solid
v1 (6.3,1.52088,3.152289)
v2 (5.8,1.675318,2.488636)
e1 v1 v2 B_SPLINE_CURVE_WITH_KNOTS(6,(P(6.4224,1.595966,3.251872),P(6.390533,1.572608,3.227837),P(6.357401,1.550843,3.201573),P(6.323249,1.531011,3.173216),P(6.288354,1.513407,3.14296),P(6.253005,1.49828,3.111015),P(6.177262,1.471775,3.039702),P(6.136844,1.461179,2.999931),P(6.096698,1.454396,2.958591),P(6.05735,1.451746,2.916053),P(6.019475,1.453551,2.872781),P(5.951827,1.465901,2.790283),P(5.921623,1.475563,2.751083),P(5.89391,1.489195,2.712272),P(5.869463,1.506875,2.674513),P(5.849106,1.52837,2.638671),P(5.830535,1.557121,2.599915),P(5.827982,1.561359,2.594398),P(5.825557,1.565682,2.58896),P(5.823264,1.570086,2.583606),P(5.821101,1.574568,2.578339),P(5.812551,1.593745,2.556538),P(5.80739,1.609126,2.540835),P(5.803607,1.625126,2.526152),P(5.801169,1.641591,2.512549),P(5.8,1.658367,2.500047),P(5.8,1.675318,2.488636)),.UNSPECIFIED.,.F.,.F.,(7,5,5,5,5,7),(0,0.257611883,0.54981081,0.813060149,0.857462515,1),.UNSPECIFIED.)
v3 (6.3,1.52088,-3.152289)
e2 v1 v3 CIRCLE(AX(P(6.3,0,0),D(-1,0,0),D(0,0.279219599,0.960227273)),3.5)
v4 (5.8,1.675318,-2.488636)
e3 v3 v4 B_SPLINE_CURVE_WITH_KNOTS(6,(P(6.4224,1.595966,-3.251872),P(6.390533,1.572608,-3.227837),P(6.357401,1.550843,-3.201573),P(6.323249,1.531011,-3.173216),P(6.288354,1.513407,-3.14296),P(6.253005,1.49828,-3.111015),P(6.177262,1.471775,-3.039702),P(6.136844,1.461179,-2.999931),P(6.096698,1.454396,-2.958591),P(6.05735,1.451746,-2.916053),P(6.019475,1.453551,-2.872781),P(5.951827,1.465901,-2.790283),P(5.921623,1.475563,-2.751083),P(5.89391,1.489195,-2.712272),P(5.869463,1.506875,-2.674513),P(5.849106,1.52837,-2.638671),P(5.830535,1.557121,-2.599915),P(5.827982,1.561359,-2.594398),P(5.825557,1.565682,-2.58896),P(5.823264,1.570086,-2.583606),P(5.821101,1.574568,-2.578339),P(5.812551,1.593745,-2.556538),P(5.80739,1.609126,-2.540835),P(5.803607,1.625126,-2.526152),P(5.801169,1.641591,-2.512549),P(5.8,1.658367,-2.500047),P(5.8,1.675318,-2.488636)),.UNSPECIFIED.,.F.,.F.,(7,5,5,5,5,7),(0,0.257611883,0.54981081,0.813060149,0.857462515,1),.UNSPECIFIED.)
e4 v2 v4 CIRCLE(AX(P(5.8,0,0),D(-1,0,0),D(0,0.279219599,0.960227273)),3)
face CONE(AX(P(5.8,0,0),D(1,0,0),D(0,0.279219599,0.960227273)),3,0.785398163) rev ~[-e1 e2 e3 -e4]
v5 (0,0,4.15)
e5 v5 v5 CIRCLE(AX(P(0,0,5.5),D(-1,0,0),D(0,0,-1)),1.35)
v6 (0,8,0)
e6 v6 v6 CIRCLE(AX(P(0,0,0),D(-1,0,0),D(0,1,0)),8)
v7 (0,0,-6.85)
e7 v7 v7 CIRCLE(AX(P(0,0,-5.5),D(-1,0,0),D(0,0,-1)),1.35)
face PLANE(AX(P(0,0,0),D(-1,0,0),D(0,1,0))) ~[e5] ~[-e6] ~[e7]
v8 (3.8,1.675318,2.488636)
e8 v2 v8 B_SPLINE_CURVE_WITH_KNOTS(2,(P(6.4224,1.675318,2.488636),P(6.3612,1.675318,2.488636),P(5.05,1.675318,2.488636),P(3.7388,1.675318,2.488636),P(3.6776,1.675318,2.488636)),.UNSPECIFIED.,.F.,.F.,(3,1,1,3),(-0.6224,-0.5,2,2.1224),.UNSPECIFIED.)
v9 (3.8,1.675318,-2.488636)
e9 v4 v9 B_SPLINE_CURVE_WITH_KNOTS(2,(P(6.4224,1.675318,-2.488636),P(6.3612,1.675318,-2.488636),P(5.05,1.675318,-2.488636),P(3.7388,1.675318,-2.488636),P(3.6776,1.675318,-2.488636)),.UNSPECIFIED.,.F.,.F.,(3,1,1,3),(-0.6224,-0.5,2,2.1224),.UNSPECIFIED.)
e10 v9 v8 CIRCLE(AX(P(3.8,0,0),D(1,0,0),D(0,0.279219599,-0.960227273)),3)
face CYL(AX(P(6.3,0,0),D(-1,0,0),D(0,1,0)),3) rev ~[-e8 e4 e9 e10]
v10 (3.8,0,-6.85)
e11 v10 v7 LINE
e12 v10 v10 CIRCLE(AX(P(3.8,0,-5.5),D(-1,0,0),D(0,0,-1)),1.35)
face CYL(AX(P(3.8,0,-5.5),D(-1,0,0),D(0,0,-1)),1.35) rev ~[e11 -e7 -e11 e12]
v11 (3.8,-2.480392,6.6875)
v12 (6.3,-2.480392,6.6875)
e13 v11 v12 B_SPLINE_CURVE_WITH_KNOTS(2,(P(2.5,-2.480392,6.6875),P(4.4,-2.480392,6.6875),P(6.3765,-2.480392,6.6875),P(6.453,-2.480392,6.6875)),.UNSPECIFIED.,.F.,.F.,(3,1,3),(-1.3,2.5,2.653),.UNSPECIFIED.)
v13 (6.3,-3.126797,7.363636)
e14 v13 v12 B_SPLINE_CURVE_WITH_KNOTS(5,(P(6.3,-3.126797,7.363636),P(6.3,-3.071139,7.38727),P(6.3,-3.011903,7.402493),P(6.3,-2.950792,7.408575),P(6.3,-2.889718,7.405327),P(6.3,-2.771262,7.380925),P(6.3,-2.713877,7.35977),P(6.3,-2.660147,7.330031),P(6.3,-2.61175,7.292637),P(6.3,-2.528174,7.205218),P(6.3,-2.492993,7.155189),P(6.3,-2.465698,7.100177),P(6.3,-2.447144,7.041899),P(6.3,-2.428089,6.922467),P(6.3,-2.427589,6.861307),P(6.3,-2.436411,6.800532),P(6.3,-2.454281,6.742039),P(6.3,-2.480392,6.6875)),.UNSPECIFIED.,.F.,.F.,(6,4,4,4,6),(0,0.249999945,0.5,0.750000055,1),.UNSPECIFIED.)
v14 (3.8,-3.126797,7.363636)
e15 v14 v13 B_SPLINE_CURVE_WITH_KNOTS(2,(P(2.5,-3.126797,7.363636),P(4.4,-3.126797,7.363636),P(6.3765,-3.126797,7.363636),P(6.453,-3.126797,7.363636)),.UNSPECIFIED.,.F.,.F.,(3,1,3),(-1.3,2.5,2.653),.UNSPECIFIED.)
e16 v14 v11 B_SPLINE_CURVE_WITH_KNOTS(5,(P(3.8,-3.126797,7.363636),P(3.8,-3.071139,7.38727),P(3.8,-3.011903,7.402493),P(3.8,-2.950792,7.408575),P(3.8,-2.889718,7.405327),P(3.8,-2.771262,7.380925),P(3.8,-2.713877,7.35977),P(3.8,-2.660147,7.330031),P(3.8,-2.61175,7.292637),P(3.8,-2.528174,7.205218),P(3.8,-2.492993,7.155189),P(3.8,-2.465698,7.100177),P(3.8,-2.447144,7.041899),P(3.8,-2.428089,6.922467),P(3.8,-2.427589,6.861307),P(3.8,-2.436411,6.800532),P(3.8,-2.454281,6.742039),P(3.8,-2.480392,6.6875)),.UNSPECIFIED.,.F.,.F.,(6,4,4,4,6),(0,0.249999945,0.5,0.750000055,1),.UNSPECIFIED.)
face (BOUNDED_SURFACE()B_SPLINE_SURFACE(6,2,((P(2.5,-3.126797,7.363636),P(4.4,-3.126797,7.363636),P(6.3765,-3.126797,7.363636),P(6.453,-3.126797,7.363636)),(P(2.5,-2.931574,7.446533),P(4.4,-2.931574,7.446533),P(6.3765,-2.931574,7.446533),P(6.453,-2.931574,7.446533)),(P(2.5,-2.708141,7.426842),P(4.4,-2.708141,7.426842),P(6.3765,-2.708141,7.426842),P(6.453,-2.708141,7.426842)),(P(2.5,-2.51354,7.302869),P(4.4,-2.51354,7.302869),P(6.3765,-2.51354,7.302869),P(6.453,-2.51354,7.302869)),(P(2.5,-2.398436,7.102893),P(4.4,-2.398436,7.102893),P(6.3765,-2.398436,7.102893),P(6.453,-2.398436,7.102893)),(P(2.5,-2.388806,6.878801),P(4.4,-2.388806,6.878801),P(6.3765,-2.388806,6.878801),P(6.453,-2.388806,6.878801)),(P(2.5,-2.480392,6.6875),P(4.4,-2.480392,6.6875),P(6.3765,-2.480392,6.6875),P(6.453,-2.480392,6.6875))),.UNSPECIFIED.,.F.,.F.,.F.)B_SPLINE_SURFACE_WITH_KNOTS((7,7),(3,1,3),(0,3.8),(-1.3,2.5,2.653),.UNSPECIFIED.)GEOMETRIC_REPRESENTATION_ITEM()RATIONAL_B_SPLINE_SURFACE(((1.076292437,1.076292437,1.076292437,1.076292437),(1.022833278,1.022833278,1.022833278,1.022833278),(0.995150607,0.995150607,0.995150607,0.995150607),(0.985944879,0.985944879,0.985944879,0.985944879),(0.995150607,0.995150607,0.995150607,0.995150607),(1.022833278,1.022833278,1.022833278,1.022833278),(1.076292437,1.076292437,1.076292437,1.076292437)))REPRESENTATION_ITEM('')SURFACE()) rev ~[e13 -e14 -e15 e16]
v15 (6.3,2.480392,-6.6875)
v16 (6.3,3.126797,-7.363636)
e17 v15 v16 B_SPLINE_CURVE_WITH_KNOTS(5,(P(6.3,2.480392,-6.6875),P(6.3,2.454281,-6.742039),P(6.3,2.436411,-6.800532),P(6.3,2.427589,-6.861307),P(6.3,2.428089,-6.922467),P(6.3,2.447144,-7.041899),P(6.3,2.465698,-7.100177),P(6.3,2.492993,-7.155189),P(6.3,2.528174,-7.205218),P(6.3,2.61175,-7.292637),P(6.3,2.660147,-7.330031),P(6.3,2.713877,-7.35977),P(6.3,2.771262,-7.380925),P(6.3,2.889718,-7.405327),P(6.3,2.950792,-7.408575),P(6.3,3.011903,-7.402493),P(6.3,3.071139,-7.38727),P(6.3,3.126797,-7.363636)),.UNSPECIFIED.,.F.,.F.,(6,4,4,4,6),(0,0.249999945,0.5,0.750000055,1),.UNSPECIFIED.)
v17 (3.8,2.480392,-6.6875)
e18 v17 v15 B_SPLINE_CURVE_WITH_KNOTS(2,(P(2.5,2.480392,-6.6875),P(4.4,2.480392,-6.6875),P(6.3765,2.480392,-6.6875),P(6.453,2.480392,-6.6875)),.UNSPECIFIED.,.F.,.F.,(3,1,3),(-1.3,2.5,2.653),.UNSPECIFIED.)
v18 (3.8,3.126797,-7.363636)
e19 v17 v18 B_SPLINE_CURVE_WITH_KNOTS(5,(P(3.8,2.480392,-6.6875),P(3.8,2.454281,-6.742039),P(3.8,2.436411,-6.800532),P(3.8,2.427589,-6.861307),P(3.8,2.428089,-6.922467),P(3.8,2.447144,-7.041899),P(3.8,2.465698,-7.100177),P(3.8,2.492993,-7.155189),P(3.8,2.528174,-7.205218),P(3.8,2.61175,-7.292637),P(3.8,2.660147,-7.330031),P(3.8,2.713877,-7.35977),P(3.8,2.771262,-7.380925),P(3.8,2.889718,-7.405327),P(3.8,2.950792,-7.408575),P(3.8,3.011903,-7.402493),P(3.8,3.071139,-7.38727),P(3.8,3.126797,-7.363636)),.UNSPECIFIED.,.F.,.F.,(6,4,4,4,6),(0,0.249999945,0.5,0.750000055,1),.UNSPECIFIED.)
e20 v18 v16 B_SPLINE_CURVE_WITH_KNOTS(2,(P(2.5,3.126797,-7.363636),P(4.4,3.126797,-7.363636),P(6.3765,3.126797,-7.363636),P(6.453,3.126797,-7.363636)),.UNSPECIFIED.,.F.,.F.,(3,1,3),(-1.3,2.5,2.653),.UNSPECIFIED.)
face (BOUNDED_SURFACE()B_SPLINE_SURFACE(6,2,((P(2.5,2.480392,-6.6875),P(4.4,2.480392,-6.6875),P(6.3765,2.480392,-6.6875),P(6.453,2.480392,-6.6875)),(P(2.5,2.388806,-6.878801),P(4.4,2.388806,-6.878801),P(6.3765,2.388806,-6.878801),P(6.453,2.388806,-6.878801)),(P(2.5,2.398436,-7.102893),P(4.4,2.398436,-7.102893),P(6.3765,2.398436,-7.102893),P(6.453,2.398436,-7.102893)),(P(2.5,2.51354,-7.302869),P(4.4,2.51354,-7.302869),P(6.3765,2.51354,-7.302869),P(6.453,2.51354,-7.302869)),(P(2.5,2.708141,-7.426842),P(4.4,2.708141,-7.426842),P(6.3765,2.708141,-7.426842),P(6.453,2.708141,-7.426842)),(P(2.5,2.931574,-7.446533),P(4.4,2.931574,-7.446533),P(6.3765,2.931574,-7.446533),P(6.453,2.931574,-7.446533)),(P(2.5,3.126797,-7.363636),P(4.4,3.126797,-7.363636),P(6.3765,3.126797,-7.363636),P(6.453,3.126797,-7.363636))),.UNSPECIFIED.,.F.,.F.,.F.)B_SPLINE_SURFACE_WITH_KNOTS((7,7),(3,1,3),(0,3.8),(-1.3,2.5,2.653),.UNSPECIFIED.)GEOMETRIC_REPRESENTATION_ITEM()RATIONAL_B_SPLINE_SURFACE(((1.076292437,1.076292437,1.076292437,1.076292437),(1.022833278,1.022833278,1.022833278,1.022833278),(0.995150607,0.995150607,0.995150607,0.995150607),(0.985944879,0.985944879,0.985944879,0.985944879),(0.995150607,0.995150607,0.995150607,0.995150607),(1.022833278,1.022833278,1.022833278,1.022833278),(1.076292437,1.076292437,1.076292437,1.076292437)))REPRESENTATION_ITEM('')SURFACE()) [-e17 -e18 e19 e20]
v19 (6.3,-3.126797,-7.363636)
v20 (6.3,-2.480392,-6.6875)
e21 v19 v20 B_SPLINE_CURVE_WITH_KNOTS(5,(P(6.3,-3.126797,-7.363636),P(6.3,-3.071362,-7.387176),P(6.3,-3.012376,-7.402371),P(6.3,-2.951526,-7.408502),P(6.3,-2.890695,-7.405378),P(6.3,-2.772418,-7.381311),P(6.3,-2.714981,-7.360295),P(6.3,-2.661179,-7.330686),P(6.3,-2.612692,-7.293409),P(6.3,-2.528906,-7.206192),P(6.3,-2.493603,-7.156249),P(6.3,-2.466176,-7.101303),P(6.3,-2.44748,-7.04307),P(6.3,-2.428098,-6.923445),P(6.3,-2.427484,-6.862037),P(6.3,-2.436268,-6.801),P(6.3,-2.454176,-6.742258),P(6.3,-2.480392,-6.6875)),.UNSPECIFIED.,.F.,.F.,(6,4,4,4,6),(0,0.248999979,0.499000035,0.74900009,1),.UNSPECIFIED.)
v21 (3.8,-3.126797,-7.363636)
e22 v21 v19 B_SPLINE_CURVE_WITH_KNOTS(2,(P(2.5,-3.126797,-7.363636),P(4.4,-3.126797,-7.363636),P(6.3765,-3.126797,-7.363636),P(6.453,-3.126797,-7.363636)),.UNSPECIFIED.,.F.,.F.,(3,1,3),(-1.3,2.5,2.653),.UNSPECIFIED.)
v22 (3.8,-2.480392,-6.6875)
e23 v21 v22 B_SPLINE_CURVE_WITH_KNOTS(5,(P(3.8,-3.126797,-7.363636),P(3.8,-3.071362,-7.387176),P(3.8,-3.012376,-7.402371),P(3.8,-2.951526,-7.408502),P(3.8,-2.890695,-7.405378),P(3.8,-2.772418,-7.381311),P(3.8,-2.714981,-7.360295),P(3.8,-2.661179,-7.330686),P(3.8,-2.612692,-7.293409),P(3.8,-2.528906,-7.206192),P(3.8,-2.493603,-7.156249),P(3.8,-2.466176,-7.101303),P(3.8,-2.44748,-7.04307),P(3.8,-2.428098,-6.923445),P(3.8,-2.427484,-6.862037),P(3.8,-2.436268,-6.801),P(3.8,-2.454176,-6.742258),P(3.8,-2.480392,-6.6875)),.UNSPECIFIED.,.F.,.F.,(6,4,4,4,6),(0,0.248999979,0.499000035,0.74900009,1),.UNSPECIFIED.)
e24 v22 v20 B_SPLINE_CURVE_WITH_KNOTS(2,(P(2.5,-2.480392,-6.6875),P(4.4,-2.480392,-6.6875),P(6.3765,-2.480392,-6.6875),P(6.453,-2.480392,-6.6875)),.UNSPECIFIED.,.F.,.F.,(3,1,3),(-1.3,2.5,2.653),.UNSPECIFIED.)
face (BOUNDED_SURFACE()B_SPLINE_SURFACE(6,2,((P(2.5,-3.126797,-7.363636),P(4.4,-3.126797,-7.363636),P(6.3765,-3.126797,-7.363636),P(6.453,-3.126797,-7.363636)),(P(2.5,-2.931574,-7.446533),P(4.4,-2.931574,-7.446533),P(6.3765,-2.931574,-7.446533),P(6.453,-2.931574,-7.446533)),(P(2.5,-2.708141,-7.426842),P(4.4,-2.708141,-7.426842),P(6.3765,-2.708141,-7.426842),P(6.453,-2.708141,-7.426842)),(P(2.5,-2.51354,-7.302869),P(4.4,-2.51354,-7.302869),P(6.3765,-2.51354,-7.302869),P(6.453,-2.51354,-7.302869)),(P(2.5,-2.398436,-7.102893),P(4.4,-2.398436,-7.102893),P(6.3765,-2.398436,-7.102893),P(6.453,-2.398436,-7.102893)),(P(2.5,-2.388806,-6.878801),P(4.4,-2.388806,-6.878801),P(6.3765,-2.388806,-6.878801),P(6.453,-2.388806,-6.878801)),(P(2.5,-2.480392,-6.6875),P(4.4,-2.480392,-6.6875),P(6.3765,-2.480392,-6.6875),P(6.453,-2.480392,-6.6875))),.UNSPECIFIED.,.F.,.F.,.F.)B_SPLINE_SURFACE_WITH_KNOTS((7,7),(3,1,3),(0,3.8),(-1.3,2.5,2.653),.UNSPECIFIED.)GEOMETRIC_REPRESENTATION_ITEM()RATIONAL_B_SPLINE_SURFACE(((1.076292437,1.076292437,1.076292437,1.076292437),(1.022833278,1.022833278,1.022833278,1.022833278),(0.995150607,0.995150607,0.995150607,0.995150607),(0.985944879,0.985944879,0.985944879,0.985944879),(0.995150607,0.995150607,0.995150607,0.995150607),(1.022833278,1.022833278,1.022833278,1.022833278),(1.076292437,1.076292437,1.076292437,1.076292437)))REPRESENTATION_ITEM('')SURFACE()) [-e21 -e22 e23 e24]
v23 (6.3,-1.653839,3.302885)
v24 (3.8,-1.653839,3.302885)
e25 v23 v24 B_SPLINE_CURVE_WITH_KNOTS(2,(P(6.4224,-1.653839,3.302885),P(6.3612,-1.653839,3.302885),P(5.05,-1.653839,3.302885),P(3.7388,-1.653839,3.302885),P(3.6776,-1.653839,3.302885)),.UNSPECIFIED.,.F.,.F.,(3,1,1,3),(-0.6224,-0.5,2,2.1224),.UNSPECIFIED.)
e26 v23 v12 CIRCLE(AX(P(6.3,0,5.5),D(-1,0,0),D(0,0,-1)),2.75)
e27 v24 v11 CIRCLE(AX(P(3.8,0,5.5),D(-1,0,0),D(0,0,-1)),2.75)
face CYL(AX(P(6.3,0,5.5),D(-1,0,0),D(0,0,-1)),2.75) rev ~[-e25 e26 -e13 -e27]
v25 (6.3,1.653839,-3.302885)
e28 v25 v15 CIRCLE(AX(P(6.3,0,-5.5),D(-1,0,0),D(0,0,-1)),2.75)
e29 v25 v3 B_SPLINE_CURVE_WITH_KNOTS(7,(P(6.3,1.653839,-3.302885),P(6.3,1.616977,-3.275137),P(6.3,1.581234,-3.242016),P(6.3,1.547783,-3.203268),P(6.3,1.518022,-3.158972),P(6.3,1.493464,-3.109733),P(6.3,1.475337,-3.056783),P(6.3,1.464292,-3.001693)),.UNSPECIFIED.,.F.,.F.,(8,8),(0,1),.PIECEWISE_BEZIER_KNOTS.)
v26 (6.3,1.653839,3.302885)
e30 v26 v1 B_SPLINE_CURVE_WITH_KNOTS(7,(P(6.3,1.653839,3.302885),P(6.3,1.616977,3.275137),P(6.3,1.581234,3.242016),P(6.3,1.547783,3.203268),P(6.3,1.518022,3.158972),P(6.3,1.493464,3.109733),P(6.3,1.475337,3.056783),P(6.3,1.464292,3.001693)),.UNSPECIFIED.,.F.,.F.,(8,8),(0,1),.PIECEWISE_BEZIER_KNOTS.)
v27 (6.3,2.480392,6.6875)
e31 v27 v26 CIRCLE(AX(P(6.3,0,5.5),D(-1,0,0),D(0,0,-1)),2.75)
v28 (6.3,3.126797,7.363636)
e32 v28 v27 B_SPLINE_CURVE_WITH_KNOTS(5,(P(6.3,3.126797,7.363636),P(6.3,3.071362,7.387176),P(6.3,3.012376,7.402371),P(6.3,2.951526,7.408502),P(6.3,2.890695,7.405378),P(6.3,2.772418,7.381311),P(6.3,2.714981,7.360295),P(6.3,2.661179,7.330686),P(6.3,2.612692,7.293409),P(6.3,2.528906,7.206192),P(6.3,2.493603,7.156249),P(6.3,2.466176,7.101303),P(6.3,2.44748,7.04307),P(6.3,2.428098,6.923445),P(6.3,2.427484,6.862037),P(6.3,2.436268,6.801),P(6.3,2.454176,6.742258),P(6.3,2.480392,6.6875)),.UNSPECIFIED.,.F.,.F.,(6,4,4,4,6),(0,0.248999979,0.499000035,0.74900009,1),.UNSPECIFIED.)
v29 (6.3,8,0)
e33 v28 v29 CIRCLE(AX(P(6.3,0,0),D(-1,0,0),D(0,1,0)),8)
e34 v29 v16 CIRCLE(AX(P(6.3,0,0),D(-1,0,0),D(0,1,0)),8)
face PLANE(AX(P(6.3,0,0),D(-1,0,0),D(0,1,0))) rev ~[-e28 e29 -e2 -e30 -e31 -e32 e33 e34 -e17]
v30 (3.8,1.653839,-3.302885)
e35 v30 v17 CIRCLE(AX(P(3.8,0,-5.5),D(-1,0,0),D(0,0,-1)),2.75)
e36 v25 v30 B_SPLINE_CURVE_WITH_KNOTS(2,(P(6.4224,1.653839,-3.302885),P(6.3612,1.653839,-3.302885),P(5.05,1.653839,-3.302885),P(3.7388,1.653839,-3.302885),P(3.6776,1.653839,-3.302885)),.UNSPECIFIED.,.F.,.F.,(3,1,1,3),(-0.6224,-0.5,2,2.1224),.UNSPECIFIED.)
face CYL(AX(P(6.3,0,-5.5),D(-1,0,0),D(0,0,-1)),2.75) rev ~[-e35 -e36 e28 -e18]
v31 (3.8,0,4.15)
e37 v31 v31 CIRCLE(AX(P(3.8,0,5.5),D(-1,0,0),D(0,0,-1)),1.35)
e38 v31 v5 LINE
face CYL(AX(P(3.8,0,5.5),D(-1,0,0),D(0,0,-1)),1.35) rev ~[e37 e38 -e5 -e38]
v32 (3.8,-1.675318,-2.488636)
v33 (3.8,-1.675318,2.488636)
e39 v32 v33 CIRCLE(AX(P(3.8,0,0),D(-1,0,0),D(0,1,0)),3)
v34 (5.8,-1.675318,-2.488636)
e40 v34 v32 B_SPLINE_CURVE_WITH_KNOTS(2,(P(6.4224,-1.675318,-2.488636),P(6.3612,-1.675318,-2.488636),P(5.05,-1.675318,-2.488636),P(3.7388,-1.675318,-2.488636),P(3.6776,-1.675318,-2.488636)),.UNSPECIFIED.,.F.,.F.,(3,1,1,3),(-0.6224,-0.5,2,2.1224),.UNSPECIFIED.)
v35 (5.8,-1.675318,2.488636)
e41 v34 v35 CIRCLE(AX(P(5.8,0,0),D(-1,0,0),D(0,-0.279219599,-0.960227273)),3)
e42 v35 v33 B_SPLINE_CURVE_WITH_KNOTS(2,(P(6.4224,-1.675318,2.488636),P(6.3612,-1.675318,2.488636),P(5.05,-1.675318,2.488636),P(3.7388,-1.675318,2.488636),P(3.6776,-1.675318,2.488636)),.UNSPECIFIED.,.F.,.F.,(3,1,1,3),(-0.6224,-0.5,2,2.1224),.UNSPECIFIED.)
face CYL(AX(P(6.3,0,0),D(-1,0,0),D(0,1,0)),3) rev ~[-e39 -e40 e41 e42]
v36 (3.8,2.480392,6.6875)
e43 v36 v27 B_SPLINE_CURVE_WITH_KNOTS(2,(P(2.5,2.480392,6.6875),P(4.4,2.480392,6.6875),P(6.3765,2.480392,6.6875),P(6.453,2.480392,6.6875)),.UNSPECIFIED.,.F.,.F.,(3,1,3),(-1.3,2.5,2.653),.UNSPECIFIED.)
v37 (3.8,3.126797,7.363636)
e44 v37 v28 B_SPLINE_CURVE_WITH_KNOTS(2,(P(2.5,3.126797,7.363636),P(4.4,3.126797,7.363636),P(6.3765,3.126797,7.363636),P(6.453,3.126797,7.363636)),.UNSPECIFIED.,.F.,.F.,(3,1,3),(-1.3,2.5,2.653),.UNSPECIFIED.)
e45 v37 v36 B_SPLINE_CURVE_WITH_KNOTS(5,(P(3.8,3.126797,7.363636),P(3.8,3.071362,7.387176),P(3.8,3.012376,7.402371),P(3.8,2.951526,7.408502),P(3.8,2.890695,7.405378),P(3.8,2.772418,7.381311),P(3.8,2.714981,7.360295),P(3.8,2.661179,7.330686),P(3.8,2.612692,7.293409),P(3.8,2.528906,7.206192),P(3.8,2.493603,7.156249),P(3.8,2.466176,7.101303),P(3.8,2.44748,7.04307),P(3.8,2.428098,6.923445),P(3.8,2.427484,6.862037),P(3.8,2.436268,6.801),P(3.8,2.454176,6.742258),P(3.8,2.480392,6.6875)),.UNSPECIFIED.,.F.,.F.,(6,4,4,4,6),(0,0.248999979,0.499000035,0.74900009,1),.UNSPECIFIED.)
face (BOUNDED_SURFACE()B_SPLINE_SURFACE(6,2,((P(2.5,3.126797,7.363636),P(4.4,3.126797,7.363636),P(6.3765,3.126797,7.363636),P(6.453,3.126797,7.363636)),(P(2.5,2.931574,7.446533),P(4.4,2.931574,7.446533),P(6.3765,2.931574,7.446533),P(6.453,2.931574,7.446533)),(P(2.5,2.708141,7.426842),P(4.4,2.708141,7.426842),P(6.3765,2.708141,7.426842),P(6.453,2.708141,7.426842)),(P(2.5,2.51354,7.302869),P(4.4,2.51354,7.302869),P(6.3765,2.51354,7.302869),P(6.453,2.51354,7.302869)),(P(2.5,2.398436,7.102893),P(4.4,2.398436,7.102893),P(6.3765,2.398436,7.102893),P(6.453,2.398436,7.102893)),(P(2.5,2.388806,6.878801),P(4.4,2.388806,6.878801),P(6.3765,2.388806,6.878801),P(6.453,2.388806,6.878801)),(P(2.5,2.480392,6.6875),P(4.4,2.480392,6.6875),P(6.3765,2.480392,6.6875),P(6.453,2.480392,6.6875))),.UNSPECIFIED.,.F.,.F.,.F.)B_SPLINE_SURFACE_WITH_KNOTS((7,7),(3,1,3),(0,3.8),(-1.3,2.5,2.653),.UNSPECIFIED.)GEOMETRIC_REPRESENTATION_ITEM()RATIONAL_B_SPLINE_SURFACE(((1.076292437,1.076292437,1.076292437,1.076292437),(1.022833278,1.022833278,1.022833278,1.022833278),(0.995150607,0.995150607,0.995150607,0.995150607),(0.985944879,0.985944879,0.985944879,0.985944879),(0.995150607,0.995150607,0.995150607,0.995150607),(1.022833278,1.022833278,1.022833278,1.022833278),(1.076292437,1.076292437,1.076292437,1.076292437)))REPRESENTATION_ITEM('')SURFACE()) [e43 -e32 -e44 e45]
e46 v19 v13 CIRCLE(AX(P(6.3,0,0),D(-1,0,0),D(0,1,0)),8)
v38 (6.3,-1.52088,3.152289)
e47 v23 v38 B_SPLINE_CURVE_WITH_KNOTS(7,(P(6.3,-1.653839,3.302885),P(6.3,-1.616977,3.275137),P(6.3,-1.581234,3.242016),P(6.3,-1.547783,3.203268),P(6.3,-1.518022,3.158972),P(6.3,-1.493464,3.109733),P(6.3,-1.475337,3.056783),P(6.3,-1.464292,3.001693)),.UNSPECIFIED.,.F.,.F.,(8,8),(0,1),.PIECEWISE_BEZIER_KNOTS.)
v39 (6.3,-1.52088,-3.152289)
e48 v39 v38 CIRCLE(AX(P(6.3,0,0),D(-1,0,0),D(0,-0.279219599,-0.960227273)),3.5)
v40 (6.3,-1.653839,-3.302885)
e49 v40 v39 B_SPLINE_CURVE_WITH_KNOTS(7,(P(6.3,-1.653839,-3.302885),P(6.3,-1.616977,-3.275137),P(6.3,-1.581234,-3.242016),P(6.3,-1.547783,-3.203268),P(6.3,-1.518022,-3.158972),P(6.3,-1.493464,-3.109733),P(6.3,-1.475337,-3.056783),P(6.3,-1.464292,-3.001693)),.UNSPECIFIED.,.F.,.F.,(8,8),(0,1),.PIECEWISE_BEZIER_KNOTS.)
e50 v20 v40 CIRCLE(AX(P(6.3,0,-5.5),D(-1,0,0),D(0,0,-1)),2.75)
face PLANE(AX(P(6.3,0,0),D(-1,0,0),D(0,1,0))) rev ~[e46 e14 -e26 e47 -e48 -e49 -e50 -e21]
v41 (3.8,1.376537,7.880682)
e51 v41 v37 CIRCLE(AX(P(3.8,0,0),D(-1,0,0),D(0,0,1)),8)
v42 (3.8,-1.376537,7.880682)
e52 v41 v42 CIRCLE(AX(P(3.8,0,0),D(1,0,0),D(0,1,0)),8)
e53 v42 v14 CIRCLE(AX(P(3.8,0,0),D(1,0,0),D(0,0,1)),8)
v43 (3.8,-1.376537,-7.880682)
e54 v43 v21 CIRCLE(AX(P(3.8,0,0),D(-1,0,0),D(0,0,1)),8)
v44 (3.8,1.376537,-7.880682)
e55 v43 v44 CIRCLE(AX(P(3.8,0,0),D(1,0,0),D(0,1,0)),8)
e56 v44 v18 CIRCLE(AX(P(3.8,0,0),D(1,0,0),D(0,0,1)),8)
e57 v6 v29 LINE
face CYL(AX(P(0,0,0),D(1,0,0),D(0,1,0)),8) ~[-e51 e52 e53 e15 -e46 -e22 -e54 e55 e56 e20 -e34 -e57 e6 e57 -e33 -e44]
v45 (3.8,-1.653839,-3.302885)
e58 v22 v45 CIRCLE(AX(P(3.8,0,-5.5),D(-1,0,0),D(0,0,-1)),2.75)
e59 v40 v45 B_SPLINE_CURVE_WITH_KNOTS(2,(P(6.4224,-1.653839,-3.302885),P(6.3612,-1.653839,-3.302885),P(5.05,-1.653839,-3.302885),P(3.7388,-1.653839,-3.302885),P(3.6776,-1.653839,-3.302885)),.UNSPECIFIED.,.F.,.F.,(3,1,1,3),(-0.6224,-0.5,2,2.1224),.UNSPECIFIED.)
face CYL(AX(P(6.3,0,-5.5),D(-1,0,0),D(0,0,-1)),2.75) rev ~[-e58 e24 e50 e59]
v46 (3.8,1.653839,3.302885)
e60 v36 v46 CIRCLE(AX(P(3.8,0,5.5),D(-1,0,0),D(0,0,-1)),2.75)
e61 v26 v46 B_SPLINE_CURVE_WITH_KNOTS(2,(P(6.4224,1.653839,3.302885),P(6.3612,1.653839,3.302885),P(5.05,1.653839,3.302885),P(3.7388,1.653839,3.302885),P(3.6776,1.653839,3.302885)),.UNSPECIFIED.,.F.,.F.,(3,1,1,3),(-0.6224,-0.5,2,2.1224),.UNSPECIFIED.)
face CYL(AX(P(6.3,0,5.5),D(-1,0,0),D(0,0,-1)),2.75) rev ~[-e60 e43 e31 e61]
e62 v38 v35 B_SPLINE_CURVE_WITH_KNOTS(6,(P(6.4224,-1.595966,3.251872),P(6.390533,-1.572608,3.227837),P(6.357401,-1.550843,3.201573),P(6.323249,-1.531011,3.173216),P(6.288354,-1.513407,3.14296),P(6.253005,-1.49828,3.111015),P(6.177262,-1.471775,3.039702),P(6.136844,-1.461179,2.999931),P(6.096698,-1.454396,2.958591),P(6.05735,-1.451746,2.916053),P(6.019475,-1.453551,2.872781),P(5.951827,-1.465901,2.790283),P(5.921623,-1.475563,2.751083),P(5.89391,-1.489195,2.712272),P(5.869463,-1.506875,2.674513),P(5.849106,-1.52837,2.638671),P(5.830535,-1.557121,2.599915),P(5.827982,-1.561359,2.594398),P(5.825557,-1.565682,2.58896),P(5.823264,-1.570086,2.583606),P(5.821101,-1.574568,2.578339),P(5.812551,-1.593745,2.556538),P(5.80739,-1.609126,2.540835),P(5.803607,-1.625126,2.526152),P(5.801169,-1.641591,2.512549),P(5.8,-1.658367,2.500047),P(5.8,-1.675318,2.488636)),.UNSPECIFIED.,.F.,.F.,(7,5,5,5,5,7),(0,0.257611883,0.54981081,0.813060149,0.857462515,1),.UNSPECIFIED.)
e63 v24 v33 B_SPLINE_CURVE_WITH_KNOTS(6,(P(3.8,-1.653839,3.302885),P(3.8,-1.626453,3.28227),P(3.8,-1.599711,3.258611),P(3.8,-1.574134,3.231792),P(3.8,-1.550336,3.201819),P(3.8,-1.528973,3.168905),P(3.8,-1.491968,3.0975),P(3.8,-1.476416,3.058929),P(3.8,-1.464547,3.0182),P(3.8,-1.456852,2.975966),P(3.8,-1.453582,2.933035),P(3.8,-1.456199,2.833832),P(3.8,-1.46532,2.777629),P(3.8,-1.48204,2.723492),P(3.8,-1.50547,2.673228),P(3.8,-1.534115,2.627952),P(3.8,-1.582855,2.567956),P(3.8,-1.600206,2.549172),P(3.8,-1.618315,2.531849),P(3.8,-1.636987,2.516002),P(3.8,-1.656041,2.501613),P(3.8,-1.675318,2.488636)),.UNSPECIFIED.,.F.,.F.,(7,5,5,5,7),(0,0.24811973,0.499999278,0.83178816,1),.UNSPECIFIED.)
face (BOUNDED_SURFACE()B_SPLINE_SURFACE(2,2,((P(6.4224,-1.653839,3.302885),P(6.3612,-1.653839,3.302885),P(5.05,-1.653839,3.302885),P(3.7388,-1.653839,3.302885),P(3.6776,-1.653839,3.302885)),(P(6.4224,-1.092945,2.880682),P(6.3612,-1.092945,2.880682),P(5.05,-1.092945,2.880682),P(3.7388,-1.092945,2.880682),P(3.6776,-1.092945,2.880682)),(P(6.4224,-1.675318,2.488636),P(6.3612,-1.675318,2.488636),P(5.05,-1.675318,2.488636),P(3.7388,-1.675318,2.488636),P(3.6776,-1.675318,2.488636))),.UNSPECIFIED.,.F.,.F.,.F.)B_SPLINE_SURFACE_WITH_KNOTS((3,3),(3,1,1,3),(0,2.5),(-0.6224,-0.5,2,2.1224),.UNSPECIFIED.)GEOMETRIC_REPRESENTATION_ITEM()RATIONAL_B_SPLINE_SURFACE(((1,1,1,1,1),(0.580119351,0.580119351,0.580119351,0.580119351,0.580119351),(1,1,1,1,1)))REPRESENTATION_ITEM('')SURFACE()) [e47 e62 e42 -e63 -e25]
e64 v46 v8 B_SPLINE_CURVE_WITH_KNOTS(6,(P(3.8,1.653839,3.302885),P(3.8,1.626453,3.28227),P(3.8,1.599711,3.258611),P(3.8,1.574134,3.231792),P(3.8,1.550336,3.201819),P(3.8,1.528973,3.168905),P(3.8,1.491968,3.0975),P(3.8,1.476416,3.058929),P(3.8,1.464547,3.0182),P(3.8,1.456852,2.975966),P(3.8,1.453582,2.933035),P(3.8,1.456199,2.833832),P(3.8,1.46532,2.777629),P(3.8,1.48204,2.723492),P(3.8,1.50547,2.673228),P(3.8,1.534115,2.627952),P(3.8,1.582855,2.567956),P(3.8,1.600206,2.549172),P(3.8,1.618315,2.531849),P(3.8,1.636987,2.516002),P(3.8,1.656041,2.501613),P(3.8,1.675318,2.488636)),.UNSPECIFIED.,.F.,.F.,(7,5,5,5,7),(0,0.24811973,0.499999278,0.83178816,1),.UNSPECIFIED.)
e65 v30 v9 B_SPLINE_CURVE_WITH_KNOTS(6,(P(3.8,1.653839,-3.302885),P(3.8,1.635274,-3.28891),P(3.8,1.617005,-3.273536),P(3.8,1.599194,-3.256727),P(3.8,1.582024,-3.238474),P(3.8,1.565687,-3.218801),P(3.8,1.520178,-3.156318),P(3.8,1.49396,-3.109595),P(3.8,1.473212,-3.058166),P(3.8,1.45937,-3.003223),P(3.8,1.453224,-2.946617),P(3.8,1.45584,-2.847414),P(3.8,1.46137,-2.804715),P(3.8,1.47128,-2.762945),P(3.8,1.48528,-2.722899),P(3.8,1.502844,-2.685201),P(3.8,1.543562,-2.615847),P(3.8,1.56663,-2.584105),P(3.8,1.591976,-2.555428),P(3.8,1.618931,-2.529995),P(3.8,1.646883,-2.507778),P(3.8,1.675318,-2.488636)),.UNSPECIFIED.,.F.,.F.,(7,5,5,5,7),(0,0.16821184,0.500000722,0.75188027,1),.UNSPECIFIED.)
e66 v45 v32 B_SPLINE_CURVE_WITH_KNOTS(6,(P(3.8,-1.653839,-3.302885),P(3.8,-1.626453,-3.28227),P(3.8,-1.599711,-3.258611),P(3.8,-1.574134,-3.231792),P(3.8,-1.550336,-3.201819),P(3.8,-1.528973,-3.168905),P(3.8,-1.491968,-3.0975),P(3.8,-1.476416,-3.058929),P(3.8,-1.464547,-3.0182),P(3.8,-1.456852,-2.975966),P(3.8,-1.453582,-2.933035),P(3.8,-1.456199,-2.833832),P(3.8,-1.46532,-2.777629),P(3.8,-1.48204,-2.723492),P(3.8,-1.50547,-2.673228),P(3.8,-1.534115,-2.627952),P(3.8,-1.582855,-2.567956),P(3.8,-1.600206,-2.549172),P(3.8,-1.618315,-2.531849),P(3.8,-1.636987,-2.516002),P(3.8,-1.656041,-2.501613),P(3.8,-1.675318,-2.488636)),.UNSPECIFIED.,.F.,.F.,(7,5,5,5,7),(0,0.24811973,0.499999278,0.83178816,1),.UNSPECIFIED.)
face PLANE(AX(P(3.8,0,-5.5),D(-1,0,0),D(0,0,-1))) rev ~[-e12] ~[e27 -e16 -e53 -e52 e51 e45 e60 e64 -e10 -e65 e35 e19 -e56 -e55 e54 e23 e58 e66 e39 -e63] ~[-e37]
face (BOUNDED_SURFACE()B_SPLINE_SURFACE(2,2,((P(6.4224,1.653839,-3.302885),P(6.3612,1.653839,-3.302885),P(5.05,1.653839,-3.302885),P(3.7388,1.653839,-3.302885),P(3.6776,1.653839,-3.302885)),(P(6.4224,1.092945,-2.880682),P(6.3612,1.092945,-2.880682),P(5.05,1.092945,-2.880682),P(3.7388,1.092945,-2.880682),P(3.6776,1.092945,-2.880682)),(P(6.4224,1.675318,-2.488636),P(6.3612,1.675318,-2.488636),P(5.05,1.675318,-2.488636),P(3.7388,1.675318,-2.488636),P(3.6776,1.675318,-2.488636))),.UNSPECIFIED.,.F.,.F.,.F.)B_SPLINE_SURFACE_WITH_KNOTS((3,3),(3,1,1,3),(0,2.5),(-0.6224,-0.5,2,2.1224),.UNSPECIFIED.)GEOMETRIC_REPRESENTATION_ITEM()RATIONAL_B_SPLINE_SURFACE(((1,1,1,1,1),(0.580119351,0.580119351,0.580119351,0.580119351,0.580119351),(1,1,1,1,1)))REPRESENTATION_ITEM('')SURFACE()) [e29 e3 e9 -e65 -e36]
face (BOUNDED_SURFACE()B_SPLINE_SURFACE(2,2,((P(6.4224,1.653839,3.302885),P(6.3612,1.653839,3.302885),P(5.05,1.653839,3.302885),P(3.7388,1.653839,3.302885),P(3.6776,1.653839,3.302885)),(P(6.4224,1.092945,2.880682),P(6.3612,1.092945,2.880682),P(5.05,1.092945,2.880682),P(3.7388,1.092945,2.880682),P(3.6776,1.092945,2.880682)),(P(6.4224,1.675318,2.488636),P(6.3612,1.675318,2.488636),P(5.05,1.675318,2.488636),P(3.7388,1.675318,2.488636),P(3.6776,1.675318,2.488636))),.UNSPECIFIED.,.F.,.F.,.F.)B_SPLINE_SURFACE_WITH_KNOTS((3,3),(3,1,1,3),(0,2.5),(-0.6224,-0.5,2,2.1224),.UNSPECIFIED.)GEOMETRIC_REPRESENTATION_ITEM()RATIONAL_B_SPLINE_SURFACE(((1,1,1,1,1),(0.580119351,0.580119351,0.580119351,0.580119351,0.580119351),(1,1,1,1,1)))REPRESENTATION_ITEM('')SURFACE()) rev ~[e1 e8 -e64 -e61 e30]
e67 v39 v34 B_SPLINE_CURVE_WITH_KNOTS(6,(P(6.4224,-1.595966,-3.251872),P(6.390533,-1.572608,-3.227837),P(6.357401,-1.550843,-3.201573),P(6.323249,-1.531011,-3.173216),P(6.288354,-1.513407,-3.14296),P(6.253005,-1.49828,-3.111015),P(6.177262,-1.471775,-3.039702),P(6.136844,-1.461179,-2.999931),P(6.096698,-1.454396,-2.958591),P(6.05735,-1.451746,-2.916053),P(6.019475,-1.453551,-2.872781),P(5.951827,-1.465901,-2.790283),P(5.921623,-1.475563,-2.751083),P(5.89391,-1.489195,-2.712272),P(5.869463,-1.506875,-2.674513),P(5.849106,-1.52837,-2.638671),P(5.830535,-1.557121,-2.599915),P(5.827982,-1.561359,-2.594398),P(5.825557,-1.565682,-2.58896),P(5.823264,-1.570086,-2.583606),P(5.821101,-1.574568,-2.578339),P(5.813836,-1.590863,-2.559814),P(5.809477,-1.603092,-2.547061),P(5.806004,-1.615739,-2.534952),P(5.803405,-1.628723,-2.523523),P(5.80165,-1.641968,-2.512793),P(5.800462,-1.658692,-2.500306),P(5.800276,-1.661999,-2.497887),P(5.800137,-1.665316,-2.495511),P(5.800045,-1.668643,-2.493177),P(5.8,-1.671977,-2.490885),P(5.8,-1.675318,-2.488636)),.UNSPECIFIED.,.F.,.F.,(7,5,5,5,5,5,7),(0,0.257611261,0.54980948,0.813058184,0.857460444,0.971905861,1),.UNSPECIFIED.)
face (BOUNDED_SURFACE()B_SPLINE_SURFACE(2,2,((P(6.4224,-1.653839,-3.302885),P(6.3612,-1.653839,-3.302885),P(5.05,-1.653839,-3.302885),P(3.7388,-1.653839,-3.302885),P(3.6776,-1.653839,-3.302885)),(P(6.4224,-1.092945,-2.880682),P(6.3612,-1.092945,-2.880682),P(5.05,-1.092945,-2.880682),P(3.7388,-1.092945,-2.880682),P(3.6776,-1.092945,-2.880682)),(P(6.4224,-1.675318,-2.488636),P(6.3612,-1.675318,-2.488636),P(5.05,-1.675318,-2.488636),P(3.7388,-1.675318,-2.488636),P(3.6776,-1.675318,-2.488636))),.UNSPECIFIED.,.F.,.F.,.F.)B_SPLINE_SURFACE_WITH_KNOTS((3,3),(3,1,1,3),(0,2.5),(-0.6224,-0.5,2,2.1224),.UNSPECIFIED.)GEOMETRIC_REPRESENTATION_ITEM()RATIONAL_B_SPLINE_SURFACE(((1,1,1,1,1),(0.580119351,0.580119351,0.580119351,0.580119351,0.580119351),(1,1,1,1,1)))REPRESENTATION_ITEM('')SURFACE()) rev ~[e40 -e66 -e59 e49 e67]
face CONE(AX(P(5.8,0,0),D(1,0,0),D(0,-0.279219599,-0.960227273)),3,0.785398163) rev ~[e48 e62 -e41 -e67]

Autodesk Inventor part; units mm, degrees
ref_plane "YZ Plane" through (0, 0, 0) normal (1, 0, 0) x (0, 1, 0)
ref_plane "XZ Plane" through (0, 0, 0) normal (0, 1, 0) x (-1, 0, 0)
ref_plane "XY Plane" through (0, 0, 0) normal (0, 0, 1) x (1, 0, 0)
sketch "スケッチ1" plane through (0, 0, 0) normal (0, 0, 1) x (1, 0, 0)
  line L0 (0, 0) -> (0, 3.5)
  line L1 (0, 3.5) -> (0, 3.5)
  line L2 (0, 3.5) -> (0, 8)
  line L3 (0, 8) -> (6.3, 8)
  line L4 (6.3, 8) -> (6.3, 3)
  line L5 (6.3, 3) -> (3.8, 3)
  line L6 (3.8, 3) -> (3.8, 0)
  line L7 (3.8, 0) -> (0, 0)
  dimension "d0" = 3.5
  dimension "d1" = 3
  dimension "d2" = 2.5
  dimension "d4" = 0
  dimension "d5" = 8
  dimension "d34" = 3.8
revolve "回転1" add sketch "スケッチ1" angle 360 about axis through (3.8, 0, 0) along (-1, 0, 0)
sketch "スケッチ2" plane through (6.3, 0, 0) normal (1, 0, 0) x (0, 0, -1)
  point P0 (0, 0)
  point P1 (-5.5, 0)
  point P2 (5.5, 0)
  dimension "d10" = 5.5
  dimension "d11" = 5.5
hole "穴1" at (6.3, 0, 5.5) at (6.3, 0, -5.5) direction (-1, 0, 0) diameter 2.7 end through all counterbore diameter 5.5 counterbore depth 2.5 clearance for "Socket Head Cap Screw" size "M2.5" standard "Ansi Metric M Profile"
chamfer "面取り5" distance 0.5 angle 45 2 edges at (6.3, 3, 0) (6.3, -3, 0)
fillet "フィレット2" radius 0.5 8 edges at (4.8, 0.8377, -2.8807) (4.8, 0.8377, 2.8807) (4.8, -0.8377, 2.8807) (4.8, -0.8377, -2.8807) (5.05, 1.3765, -7.8807) (5.05, 1.3765, 7.8807) (5.05, -1.3765, 7.8807) (5.05, -1.3765, -7.8807)
properties part number "unit-base4" material "ABS プラスチック"
